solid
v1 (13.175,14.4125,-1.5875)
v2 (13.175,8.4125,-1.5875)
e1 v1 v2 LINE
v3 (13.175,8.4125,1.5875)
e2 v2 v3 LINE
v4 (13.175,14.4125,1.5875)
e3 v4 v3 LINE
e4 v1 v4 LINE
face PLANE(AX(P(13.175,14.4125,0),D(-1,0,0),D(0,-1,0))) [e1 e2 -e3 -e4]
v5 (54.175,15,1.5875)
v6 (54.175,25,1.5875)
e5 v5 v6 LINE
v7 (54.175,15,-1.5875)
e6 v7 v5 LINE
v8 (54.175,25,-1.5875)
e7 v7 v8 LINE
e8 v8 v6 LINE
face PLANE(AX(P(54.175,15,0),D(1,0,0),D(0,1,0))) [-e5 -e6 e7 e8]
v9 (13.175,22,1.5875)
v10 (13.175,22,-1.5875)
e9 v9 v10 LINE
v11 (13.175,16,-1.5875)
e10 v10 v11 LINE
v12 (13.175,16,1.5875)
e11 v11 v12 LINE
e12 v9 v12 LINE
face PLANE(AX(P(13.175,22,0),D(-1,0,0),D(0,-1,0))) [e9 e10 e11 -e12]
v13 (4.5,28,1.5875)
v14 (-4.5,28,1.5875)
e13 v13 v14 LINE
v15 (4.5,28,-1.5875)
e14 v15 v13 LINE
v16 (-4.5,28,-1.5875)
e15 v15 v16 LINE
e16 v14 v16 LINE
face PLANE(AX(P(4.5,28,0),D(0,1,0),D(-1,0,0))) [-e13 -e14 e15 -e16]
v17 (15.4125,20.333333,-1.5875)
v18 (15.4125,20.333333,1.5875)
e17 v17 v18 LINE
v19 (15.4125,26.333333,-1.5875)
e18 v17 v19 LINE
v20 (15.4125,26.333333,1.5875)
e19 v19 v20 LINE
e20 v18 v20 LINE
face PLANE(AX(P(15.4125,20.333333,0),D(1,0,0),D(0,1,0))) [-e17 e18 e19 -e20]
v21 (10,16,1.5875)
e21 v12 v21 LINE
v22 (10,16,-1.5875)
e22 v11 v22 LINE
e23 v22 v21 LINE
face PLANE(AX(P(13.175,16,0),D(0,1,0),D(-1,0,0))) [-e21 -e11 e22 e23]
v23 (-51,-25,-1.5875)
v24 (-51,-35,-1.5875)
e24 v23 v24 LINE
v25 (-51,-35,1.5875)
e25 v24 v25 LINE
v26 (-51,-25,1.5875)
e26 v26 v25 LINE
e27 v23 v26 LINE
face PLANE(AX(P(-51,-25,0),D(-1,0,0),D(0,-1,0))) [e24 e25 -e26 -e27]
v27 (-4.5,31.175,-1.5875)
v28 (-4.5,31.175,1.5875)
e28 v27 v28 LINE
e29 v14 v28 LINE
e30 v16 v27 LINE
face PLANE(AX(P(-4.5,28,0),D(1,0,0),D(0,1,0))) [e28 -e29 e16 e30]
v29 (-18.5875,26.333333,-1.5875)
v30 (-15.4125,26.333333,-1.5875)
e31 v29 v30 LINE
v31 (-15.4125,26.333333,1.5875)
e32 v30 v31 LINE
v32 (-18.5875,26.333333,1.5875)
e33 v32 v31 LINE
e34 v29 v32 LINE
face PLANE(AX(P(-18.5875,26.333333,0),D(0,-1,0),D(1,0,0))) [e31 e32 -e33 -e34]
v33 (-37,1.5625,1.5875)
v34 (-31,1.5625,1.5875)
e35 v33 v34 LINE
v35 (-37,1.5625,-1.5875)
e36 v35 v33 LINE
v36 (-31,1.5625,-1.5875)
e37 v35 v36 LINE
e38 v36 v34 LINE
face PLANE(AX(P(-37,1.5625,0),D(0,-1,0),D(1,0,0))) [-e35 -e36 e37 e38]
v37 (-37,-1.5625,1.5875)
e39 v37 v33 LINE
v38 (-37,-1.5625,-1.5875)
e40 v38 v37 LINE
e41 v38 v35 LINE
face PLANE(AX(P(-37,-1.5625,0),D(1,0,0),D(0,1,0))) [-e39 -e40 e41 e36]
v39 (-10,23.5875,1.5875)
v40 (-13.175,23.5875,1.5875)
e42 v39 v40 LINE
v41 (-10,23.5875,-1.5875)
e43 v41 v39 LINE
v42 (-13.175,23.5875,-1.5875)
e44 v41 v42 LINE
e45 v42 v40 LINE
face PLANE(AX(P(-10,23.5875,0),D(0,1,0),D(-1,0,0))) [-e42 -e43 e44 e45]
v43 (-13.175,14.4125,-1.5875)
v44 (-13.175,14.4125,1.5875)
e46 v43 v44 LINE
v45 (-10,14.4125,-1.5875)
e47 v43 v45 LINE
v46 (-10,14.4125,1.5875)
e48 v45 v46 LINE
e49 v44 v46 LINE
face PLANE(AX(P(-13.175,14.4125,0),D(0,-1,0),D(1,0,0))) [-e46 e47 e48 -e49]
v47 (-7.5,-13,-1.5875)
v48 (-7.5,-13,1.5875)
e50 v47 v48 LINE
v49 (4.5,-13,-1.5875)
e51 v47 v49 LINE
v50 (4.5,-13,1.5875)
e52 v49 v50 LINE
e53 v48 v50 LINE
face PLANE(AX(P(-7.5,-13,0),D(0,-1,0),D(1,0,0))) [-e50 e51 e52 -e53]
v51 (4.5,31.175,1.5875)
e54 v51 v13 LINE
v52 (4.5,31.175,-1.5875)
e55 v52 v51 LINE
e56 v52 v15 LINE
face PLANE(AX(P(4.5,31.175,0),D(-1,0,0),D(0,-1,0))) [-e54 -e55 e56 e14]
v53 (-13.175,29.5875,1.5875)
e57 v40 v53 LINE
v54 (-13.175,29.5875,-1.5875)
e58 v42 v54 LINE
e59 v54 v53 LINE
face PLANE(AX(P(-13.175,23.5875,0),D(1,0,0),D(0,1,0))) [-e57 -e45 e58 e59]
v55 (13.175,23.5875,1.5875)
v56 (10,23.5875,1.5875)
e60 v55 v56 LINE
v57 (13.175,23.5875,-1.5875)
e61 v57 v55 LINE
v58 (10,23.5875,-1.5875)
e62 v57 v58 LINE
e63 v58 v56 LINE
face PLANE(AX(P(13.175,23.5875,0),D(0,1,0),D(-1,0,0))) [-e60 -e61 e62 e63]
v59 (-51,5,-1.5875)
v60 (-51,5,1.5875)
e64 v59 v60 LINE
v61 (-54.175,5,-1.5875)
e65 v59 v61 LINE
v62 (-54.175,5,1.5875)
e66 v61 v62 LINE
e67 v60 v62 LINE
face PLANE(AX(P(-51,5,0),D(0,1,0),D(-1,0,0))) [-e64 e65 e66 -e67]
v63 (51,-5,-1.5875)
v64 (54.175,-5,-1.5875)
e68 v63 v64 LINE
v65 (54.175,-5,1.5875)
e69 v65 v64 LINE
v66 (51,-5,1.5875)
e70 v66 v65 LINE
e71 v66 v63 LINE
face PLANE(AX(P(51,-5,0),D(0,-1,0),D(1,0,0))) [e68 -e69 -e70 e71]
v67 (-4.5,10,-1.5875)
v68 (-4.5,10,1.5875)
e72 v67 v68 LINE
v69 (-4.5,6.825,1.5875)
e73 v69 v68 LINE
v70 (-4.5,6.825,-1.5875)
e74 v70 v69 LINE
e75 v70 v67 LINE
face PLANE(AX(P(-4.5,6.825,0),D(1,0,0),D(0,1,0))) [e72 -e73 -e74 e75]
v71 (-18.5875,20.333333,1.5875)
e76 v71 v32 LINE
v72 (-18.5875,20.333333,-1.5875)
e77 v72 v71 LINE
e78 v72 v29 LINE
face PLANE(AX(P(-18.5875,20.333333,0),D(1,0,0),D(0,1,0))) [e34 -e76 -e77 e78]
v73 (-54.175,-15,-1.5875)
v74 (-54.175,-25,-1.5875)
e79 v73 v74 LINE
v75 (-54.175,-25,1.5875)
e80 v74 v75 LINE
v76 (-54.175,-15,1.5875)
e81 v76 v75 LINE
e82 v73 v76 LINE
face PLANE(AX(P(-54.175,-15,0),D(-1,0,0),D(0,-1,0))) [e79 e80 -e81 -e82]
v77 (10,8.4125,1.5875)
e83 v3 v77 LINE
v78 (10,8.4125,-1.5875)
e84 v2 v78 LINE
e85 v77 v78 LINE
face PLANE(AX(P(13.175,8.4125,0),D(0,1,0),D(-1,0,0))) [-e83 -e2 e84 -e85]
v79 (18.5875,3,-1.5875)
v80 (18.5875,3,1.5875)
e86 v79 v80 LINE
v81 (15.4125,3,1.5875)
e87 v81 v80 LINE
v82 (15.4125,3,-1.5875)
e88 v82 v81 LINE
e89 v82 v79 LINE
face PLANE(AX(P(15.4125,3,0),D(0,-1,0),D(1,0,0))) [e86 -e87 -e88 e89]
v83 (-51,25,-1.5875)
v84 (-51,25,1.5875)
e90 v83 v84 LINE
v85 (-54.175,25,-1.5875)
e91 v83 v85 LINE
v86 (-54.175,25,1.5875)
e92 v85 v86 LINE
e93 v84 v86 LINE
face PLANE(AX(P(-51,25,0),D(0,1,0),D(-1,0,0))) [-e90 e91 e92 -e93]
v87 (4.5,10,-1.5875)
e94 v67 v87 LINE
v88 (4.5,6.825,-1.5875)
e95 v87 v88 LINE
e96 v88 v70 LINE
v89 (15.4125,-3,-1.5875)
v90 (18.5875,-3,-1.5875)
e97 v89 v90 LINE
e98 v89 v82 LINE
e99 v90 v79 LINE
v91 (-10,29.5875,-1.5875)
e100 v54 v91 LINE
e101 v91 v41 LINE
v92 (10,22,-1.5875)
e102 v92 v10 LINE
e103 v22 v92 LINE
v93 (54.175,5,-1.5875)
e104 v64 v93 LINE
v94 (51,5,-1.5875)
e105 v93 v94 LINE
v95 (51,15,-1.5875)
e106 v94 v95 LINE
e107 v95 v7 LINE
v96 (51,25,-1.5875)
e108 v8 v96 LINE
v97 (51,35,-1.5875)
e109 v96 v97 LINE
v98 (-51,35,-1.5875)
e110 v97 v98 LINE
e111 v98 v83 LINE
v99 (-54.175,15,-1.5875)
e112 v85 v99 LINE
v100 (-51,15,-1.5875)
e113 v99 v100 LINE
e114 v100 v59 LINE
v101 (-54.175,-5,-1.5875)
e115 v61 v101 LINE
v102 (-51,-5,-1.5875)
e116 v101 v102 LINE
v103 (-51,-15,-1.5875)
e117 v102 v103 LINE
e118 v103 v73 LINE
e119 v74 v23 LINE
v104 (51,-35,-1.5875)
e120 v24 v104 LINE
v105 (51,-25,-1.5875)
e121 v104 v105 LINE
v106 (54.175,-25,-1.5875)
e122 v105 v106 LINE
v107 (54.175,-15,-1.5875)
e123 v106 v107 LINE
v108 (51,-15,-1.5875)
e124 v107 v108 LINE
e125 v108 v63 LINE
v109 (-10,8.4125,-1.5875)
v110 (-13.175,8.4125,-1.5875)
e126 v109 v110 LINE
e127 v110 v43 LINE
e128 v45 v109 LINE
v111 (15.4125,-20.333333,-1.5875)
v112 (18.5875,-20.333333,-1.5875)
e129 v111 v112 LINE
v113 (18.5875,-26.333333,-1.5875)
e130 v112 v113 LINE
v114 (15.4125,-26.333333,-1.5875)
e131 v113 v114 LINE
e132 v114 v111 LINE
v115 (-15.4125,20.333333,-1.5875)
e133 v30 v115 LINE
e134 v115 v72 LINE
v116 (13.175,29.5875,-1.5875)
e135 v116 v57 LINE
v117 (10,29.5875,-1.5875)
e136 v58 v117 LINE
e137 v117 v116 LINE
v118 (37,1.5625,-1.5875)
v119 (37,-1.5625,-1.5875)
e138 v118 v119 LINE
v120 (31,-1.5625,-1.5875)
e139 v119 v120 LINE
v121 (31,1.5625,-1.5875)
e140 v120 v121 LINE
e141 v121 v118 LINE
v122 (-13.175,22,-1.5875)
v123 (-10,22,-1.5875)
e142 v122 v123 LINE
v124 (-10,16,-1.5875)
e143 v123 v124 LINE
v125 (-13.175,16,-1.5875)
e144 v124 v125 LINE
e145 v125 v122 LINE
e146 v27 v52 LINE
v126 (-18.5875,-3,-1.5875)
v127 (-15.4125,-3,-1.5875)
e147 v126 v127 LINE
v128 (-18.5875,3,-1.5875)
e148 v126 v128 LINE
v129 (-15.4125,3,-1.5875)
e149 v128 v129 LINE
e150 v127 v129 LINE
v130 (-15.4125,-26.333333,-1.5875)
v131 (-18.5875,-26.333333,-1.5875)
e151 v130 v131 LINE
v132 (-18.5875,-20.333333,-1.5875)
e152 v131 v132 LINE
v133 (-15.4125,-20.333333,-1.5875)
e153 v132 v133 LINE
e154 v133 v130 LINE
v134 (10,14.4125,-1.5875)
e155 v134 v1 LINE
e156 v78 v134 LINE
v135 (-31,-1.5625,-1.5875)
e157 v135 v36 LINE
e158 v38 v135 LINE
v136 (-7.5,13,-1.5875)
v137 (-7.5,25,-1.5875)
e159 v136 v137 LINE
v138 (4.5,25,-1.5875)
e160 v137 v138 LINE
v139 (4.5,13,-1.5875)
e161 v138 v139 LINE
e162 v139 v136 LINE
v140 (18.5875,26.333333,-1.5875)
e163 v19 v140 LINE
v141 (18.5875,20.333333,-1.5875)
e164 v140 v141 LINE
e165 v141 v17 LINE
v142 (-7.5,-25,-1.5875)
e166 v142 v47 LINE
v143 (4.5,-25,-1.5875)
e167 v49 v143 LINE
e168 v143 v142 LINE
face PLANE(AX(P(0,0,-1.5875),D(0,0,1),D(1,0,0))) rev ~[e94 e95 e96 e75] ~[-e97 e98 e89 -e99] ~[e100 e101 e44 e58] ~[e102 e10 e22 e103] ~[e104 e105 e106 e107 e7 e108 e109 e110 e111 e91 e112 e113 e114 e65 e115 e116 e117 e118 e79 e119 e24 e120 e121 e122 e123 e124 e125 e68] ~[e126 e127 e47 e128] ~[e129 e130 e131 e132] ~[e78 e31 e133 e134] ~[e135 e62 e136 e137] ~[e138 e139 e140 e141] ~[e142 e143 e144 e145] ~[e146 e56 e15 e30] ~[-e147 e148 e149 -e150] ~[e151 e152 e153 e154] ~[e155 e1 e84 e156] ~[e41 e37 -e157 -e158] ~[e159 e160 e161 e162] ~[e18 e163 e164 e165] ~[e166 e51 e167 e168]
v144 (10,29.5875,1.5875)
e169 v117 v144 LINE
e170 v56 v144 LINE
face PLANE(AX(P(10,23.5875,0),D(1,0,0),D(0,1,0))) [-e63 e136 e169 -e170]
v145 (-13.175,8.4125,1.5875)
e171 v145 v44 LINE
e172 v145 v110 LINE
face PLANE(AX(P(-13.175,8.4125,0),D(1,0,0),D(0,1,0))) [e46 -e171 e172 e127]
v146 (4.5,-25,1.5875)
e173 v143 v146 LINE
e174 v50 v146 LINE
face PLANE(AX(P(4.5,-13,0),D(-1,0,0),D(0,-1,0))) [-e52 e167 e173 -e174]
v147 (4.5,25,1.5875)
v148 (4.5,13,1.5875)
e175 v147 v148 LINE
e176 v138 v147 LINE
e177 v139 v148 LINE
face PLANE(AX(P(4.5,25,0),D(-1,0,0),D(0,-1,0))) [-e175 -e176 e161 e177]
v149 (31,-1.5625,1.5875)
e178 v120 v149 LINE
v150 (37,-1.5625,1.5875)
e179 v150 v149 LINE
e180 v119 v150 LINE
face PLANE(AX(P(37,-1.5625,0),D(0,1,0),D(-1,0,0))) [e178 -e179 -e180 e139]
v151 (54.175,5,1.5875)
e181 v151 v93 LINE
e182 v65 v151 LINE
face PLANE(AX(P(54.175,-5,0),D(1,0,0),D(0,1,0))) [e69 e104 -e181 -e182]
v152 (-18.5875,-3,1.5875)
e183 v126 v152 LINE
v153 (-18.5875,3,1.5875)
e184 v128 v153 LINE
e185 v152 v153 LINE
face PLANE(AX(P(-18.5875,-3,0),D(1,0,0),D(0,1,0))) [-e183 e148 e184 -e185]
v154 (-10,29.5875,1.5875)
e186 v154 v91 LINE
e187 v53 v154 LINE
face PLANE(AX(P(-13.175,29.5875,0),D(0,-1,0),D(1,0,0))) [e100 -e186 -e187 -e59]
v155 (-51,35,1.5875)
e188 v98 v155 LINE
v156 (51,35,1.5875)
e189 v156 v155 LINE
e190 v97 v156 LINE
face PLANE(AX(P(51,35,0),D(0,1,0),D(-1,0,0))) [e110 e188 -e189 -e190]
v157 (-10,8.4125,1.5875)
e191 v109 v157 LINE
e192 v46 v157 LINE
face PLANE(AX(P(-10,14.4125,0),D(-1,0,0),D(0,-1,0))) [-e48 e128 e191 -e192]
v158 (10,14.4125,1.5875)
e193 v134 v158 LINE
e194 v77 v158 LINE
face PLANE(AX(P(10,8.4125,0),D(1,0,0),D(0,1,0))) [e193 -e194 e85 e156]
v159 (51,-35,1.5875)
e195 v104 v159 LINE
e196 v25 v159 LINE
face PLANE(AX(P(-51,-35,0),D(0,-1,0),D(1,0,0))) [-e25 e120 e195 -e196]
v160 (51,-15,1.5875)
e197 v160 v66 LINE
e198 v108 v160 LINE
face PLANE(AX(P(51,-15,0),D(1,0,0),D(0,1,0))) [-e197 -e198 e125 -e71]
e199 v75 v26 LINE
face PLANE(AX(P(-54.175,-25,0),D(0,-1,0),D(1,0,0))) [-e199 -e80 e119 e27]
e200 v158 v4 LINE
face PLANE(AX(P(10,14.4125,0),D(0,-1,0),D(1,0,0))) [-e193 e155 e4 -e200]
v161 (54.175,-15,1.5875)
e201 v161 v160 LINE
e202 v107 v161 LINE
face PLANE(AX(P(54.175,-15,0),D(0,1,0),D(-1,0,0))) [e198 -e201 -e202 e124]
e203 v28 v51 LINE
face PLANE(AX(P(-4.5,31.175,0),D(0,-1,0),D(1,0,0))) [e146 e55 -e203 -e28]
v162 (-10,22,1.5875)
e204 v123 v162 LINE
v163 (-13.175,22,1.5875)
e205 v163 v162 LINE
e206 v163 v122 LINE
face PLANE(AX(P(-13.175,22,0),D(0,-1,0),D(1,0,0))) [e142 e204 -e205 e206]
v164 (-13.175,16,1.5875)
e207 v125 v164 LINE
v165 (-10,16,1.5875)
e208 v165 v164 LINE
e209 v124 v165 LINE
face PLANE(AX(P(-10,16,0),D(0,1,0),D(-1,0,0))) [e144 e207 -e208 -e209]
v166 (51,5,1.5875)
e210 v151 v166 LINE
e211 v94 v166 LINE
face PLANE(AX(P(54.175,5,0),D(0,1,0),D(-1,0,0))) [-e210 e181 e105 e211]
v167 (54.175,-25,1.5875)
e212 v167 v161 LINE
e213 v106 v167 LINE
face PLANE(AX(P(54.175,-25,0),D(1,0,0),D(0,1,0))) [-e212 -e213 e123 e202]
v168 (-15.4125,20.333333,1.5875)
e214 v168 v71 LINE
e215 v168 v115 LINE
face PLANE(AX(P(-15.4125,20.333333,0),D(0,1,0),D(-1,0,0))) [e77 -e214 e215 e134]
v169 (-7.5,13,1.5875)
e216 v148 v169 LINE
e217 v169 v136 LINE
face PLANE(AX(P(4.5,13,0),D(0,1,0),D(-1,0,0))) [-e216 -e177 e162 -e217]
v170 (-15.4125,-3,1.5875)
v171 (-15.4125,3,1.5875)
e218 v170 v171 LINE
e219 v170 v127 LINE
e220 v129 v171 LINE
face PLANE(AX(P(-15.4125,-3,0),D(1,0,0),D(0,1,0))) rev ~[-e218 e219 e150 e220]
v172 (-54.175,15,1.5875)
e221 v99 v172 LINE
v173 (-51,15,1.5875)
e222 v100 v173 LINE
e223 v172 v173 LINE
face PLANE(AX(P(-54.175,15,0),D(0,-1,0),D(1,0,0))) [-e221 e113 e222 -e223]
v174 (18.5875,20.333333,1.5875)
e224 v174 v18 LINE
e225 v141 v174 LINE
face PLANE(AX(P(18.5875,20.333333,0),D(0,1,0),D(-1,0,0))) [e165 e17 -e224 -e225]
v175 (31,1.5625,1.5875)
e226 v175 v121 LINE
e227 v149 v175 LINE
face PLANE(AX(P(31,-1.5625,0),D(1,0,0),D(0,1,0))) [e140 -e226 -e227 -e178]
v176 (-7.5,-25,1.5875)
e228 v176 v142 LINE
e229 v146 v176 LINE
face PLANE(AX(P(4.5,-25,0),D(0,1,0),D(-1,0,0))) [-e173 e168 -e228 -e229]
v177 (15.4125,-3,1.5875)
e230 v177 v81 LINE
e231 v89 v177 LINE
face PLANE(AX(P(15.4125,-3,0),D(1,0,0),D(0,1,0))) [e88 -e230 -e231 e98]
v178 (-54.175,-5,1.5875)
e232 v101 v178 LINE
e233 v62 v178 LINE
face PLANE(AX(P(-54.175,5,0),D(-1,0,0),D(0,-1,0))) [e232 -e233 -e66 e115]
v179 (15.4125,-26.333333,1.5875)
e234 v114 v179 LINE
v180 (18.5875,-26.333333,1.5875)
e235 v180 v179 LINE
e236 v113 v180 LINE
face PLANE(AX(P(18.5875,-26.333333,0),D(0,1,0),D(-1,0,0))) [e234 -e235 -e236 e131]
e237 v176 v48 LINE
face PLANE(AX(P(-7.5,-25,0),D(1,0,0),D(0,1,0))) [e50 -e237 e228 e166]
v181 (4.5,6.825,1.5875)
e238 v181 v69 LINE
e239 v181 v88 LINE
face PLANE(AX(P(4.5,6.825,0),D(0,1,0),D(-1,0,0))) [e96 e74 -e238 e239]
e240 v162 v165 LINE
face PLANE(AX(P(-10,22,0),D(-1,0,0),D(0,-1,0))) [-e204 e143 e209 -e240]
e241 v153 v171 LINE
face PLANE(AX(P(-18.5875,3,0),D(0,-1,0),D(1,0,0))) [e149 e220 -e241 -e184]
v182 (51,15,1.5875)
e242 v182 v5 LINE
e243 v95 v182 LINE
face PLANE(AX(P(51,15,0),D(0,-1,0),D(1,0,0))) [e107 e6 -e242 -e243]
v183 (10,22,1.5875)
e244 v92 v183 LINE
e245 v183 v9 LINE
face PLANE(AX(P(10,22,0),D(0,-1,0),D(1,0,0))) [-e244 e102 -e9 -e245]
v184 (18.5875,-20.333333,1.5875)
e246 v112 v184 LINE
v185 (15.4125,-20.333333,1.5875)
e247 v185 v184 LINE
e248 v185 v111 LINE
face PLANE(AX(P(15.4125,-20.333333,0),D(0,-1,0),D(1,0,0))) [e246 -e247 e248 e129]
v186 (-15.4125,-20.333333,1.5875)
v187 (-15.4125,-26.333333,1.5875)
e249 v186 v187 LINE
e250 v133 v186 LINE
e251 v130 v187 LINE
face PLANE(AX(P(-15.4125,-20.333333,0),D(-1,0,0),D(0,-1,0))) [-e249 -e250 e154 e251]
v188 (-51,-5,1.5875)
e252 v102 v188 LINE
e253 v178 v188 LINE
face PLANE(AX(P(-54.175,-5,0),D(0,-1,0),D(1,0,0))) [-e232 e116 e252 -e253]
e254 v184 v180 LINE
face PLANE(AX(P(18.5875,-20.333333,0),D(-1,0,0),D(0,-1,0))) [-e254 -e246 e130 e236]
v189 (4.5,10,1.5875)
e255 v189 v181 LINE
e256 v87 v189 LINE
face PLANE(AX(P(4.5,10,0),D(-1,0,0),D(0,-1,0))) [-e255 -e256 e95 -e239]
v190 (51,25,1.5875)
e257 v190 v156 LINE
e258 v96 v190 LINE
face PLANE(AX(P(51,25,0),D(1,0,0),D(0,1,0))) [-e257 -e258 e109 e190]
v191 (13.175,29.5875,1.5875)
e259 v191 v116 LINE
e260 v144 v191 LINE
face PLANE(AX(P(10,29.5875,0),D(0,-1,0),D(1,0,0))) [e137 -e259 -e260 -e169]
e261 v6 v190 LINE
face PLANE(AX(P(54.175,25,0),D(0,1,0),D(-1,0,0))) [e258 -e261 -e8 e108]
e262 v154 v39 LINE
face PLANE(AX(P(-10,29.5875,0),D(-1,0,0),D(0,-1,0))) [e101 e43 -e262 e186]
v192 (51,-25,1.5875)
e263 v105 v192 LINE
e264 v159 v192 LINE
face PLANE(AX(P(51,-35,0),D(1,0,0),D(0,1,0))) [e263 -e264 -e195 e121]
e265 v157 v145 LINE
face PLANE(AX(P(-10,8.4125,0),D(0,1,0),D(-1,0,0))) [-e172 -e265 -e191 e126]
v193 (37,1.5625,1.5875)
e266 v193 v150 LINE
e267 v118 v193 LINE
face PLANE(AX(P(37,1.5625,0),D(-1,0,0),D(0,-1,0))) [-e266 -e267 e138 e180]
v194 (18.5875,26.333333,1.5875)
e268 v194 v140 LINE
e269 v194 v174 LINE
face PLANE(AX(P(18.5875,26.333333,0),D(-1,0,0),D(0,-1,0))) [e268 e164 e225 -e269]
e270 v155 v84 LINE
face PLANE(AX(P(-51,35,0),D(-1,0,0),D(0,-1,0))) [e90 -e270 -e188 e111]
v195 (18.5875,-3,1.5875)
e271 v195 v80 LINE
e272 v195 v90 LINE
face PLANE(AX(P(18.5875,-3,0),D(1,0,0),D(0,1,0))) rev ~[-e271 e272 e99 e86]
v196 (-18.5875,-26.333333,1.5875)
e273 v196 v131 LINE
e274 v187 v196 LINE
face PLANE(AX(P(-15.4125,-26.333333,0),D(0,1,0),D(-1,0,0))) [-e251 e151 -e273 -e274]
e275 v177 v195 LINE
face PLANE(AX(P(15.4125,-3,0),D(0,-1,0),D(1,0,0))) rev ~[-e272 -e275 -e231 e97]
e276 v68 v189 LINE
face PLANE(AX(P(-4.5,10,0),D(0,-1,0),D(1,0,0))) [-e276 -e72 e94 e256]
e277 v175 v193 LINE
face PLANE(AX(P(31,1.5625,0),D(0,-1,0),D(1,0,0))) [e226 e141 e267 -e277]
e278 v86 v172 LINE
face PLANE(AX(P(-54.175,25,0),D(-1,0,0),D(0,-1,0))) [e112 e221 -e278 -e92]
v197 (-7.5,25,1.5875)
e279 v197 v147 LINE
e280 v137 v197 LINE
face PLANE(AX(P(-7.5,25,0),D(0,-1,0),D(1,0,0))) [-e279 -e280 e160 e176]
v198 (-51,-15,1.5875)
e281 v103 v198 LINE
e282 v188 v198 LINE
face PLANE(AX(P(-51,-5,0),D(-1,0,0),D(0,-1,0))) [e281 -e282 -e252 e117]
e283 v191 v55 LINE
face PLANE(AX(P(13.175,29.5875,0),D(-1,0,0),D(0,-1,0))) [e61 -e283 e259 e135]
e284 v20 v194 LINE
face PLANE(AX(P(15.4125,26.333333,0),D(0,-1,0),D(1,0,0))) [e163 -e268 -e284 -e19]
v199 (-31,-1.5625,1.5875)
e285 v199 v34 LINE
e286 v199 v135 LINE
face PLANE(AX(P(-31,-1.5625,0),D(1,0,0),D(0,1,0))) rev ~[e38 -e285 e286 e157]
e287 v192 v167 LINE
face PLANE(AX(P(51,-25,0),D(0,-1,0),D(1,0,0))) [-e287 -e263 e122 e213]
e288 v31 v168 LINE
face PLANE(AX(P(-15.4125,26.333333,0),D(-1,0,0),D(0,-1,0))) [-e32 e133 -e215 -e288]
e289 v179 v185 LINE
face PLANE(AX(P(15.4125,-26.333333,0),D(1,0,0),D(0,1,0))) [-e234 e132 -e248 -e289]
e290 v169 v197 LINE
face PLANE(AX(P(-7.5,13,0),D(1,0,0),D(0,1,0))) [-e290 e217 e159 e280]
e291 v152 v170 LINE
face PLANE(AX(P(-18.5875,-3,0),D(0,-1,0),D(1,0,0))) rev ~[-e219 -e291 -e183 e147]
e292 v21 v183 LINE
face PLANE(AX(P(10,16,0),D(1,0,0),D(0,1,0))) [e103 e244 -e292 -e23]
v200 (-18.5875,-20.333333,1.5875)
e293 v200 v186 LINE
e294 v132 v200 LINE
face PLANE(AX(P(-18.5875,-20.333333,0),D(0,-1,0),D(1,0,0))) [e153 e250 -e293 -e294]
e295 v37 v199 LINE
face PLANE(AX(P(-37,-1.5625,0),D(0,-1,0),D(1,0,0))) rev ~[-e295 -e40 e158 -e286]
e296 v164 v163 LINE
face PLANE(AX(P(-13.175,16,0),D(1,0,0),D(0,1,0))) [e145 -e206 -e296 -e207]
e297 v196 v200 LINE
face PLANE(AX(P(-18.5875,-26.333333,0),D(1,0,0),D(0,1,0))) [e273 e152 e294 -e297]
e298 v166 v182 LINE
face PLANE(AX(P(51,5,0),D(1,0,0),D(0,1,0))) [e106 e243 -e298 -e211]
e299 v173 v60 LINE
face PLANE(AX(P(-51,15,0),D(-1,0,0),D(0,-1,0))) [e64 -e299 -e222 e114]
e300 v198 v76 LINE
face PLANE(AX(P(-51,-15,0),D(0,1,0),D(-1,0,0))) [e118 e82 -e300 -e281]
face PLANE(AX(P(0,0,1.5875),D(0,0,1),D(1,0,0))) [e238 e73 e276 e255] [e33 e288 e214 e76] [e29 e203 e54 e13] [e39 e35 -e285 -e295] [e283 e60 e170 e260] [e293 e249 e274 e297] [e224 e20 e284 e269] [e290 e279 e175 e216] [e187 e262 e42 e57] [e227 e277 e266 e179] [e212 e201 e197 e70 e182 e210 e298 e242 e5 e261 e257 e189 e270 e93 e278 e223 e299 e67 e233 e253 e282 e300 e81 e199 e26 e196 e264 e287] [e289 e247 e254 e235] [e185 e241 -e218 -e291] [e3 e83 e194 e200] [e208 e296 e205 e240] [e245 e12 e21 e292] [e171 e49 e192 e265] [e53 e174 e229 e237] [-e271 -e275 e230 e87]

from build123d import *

# Parameters (mm, degrees)
SKETCH1_W           = 6
SKETCH1_H           = 3.125
SKETCH1_W_2         = 3.175
SKETCH1_H_2         = 6
BOSS_EXTRUDE1_DEPTH = 1.5875


with BuildPart() as part:
    # Sketch1 → Boss-Extrude1 (new body, symmetric)
    with BuildSketch(Plane.XY):
        Polygon((54.175, 0), (54.175, 5), (51, 5), (51, 15), (54.175, 15), (54.175, 25), (51, 25), (51, 35), (17, 35), (0, 35), (-17, 35), (-51, 35), (-51, 25), (-54.175, 25), (-54.175, 15), (-51, 15), (-51, 5), (-54.175, 5), (-54.175, -5), (-51, -5), (-51, -15), (-54.175, -15), (-54.175, -25), (-51, -25), (-51, -35), (0, -35), (51, -35), (51, -25), (54.175, -25), (54.175, -15), (51, -15), (51, -5), (54.175, -5), align=None)
        Polygon((-18.5875, -23.333333333), (-18.5875, -20.333333333), (-15.4125, -20.333333333), (-15.4125, -26.333333333), (-18.5875, -26.333333333), align=None, mode=Mode.SUBTRACT)
        Polygon((-7.5, -13), (0, -13), (4.5, -13), (4.5, -25), (0, -25), (-7.5, -25), align=None, mode=Mode.SUBTRACT)
        Polygon((18.5875, -20.333333333), (18.5875, -23.333333333), (18.5875, -26.333333333), (15.4125, -26.333333333), (15.4125, -20.333333333), align=None, mode=Mode.SUBTRACT)
        with Locations((-34, 0)):
            Rectangle(SKETCH1_W, SKETCH1_H, mode=Mode.SUBTRACT)
        with Locations((-17, 0)):
            Rectangle(SKETCH1_W_2, SKETCH1_H_2, mode=Mode.SUBTRACT)
        Polygon((-13.175, 14.4125), (-11.5875, 14.4125), (-10, 14.4125), (-10, 8.4125), (-13.175, 8.4125), align=None, mode=Mode.SUBTRACT)
        Polygon((-18.5875, 20.333333333), (-18.5875, 23.333333333), (-18.5875, 26.333333333), (-15.4125, 26.333333333), (-15.4125, 20.333333333), align=None, mode=Mode.SUBTRACT)
        Polygon((-10, 22), (-10, 19), (-10, 16), (-11.5875, 16), (-13.175, 16), (-13.175, 22), (-11.5875, 22), align=None, mode=Mode.SUBTRACT)
        Polygon((-7.5, 25), (0, 25), (4.5, 25), (4.5, 13), (0, 13), (-7.5, 13), align=None, mode=Mode.SUBTRACT)
        Polygon((-10, 23.5875), (-11.5875, 23.5875), (-13.175, 23.5875), (-13.175, 29.5875), (-10, 29.5875), align=None, mode=Mode.SUBTRACT)
        Polygon((-4.5, 6.825), (-4.5, 10), (0, 10), (4.5, 10), (4.5, 6.825), align=None, mode=Mode.SUBTRACT)
        with Locations((17, 0)):
            Rectangle(SKETCH1_W_2, SKETCH1_H_2, mode=Mode.SUBTRACT)
        Polygon((10, 14.4125), (11.5875, 14.4125), (13.175, 14.4125), (13.175, 8.4125), (10, 8.4125), align=None, mode=Mode.SUBTRACT)
        Polygon((37, 1.5625), (37, 0), (37, -1.5625), (31, -1.5625), (31, 1.5625), align=None, mode=Mode.SUBTRACT)
        Polygon((13.175, 16), (11.5875, 16), (10, 16), (10, 19), (10, 22), (11.5875, 22), (13.175, 22), align=None, mode=Mode.SUBTRACT)
        Polygon((18.5875, 23.333333333), (18.5875, 20.333333333), (15.4125, 20.333333333), (15.4125, 26.333333333), (18.5875, 26.333333333), align=None, mode=Mode.SUBTRACT)
        Polygon((-4.5, 31.175), (4.5, 31.175), (4.5, 28), (0, 28), (-4.5, 28), align=None, mode=Mode.SUBTRACT)
        Polygon((13.175, 23.5875), (11.5875, 23.5875), (10, 23.5875), (10, 29.5875), (13.175, 29.5875), align=None, mode=Mode.SUBTRACT)
    extrude(amount=BOSS_EXTRUDE1_DEPTH, both=True)


solid = part.part
